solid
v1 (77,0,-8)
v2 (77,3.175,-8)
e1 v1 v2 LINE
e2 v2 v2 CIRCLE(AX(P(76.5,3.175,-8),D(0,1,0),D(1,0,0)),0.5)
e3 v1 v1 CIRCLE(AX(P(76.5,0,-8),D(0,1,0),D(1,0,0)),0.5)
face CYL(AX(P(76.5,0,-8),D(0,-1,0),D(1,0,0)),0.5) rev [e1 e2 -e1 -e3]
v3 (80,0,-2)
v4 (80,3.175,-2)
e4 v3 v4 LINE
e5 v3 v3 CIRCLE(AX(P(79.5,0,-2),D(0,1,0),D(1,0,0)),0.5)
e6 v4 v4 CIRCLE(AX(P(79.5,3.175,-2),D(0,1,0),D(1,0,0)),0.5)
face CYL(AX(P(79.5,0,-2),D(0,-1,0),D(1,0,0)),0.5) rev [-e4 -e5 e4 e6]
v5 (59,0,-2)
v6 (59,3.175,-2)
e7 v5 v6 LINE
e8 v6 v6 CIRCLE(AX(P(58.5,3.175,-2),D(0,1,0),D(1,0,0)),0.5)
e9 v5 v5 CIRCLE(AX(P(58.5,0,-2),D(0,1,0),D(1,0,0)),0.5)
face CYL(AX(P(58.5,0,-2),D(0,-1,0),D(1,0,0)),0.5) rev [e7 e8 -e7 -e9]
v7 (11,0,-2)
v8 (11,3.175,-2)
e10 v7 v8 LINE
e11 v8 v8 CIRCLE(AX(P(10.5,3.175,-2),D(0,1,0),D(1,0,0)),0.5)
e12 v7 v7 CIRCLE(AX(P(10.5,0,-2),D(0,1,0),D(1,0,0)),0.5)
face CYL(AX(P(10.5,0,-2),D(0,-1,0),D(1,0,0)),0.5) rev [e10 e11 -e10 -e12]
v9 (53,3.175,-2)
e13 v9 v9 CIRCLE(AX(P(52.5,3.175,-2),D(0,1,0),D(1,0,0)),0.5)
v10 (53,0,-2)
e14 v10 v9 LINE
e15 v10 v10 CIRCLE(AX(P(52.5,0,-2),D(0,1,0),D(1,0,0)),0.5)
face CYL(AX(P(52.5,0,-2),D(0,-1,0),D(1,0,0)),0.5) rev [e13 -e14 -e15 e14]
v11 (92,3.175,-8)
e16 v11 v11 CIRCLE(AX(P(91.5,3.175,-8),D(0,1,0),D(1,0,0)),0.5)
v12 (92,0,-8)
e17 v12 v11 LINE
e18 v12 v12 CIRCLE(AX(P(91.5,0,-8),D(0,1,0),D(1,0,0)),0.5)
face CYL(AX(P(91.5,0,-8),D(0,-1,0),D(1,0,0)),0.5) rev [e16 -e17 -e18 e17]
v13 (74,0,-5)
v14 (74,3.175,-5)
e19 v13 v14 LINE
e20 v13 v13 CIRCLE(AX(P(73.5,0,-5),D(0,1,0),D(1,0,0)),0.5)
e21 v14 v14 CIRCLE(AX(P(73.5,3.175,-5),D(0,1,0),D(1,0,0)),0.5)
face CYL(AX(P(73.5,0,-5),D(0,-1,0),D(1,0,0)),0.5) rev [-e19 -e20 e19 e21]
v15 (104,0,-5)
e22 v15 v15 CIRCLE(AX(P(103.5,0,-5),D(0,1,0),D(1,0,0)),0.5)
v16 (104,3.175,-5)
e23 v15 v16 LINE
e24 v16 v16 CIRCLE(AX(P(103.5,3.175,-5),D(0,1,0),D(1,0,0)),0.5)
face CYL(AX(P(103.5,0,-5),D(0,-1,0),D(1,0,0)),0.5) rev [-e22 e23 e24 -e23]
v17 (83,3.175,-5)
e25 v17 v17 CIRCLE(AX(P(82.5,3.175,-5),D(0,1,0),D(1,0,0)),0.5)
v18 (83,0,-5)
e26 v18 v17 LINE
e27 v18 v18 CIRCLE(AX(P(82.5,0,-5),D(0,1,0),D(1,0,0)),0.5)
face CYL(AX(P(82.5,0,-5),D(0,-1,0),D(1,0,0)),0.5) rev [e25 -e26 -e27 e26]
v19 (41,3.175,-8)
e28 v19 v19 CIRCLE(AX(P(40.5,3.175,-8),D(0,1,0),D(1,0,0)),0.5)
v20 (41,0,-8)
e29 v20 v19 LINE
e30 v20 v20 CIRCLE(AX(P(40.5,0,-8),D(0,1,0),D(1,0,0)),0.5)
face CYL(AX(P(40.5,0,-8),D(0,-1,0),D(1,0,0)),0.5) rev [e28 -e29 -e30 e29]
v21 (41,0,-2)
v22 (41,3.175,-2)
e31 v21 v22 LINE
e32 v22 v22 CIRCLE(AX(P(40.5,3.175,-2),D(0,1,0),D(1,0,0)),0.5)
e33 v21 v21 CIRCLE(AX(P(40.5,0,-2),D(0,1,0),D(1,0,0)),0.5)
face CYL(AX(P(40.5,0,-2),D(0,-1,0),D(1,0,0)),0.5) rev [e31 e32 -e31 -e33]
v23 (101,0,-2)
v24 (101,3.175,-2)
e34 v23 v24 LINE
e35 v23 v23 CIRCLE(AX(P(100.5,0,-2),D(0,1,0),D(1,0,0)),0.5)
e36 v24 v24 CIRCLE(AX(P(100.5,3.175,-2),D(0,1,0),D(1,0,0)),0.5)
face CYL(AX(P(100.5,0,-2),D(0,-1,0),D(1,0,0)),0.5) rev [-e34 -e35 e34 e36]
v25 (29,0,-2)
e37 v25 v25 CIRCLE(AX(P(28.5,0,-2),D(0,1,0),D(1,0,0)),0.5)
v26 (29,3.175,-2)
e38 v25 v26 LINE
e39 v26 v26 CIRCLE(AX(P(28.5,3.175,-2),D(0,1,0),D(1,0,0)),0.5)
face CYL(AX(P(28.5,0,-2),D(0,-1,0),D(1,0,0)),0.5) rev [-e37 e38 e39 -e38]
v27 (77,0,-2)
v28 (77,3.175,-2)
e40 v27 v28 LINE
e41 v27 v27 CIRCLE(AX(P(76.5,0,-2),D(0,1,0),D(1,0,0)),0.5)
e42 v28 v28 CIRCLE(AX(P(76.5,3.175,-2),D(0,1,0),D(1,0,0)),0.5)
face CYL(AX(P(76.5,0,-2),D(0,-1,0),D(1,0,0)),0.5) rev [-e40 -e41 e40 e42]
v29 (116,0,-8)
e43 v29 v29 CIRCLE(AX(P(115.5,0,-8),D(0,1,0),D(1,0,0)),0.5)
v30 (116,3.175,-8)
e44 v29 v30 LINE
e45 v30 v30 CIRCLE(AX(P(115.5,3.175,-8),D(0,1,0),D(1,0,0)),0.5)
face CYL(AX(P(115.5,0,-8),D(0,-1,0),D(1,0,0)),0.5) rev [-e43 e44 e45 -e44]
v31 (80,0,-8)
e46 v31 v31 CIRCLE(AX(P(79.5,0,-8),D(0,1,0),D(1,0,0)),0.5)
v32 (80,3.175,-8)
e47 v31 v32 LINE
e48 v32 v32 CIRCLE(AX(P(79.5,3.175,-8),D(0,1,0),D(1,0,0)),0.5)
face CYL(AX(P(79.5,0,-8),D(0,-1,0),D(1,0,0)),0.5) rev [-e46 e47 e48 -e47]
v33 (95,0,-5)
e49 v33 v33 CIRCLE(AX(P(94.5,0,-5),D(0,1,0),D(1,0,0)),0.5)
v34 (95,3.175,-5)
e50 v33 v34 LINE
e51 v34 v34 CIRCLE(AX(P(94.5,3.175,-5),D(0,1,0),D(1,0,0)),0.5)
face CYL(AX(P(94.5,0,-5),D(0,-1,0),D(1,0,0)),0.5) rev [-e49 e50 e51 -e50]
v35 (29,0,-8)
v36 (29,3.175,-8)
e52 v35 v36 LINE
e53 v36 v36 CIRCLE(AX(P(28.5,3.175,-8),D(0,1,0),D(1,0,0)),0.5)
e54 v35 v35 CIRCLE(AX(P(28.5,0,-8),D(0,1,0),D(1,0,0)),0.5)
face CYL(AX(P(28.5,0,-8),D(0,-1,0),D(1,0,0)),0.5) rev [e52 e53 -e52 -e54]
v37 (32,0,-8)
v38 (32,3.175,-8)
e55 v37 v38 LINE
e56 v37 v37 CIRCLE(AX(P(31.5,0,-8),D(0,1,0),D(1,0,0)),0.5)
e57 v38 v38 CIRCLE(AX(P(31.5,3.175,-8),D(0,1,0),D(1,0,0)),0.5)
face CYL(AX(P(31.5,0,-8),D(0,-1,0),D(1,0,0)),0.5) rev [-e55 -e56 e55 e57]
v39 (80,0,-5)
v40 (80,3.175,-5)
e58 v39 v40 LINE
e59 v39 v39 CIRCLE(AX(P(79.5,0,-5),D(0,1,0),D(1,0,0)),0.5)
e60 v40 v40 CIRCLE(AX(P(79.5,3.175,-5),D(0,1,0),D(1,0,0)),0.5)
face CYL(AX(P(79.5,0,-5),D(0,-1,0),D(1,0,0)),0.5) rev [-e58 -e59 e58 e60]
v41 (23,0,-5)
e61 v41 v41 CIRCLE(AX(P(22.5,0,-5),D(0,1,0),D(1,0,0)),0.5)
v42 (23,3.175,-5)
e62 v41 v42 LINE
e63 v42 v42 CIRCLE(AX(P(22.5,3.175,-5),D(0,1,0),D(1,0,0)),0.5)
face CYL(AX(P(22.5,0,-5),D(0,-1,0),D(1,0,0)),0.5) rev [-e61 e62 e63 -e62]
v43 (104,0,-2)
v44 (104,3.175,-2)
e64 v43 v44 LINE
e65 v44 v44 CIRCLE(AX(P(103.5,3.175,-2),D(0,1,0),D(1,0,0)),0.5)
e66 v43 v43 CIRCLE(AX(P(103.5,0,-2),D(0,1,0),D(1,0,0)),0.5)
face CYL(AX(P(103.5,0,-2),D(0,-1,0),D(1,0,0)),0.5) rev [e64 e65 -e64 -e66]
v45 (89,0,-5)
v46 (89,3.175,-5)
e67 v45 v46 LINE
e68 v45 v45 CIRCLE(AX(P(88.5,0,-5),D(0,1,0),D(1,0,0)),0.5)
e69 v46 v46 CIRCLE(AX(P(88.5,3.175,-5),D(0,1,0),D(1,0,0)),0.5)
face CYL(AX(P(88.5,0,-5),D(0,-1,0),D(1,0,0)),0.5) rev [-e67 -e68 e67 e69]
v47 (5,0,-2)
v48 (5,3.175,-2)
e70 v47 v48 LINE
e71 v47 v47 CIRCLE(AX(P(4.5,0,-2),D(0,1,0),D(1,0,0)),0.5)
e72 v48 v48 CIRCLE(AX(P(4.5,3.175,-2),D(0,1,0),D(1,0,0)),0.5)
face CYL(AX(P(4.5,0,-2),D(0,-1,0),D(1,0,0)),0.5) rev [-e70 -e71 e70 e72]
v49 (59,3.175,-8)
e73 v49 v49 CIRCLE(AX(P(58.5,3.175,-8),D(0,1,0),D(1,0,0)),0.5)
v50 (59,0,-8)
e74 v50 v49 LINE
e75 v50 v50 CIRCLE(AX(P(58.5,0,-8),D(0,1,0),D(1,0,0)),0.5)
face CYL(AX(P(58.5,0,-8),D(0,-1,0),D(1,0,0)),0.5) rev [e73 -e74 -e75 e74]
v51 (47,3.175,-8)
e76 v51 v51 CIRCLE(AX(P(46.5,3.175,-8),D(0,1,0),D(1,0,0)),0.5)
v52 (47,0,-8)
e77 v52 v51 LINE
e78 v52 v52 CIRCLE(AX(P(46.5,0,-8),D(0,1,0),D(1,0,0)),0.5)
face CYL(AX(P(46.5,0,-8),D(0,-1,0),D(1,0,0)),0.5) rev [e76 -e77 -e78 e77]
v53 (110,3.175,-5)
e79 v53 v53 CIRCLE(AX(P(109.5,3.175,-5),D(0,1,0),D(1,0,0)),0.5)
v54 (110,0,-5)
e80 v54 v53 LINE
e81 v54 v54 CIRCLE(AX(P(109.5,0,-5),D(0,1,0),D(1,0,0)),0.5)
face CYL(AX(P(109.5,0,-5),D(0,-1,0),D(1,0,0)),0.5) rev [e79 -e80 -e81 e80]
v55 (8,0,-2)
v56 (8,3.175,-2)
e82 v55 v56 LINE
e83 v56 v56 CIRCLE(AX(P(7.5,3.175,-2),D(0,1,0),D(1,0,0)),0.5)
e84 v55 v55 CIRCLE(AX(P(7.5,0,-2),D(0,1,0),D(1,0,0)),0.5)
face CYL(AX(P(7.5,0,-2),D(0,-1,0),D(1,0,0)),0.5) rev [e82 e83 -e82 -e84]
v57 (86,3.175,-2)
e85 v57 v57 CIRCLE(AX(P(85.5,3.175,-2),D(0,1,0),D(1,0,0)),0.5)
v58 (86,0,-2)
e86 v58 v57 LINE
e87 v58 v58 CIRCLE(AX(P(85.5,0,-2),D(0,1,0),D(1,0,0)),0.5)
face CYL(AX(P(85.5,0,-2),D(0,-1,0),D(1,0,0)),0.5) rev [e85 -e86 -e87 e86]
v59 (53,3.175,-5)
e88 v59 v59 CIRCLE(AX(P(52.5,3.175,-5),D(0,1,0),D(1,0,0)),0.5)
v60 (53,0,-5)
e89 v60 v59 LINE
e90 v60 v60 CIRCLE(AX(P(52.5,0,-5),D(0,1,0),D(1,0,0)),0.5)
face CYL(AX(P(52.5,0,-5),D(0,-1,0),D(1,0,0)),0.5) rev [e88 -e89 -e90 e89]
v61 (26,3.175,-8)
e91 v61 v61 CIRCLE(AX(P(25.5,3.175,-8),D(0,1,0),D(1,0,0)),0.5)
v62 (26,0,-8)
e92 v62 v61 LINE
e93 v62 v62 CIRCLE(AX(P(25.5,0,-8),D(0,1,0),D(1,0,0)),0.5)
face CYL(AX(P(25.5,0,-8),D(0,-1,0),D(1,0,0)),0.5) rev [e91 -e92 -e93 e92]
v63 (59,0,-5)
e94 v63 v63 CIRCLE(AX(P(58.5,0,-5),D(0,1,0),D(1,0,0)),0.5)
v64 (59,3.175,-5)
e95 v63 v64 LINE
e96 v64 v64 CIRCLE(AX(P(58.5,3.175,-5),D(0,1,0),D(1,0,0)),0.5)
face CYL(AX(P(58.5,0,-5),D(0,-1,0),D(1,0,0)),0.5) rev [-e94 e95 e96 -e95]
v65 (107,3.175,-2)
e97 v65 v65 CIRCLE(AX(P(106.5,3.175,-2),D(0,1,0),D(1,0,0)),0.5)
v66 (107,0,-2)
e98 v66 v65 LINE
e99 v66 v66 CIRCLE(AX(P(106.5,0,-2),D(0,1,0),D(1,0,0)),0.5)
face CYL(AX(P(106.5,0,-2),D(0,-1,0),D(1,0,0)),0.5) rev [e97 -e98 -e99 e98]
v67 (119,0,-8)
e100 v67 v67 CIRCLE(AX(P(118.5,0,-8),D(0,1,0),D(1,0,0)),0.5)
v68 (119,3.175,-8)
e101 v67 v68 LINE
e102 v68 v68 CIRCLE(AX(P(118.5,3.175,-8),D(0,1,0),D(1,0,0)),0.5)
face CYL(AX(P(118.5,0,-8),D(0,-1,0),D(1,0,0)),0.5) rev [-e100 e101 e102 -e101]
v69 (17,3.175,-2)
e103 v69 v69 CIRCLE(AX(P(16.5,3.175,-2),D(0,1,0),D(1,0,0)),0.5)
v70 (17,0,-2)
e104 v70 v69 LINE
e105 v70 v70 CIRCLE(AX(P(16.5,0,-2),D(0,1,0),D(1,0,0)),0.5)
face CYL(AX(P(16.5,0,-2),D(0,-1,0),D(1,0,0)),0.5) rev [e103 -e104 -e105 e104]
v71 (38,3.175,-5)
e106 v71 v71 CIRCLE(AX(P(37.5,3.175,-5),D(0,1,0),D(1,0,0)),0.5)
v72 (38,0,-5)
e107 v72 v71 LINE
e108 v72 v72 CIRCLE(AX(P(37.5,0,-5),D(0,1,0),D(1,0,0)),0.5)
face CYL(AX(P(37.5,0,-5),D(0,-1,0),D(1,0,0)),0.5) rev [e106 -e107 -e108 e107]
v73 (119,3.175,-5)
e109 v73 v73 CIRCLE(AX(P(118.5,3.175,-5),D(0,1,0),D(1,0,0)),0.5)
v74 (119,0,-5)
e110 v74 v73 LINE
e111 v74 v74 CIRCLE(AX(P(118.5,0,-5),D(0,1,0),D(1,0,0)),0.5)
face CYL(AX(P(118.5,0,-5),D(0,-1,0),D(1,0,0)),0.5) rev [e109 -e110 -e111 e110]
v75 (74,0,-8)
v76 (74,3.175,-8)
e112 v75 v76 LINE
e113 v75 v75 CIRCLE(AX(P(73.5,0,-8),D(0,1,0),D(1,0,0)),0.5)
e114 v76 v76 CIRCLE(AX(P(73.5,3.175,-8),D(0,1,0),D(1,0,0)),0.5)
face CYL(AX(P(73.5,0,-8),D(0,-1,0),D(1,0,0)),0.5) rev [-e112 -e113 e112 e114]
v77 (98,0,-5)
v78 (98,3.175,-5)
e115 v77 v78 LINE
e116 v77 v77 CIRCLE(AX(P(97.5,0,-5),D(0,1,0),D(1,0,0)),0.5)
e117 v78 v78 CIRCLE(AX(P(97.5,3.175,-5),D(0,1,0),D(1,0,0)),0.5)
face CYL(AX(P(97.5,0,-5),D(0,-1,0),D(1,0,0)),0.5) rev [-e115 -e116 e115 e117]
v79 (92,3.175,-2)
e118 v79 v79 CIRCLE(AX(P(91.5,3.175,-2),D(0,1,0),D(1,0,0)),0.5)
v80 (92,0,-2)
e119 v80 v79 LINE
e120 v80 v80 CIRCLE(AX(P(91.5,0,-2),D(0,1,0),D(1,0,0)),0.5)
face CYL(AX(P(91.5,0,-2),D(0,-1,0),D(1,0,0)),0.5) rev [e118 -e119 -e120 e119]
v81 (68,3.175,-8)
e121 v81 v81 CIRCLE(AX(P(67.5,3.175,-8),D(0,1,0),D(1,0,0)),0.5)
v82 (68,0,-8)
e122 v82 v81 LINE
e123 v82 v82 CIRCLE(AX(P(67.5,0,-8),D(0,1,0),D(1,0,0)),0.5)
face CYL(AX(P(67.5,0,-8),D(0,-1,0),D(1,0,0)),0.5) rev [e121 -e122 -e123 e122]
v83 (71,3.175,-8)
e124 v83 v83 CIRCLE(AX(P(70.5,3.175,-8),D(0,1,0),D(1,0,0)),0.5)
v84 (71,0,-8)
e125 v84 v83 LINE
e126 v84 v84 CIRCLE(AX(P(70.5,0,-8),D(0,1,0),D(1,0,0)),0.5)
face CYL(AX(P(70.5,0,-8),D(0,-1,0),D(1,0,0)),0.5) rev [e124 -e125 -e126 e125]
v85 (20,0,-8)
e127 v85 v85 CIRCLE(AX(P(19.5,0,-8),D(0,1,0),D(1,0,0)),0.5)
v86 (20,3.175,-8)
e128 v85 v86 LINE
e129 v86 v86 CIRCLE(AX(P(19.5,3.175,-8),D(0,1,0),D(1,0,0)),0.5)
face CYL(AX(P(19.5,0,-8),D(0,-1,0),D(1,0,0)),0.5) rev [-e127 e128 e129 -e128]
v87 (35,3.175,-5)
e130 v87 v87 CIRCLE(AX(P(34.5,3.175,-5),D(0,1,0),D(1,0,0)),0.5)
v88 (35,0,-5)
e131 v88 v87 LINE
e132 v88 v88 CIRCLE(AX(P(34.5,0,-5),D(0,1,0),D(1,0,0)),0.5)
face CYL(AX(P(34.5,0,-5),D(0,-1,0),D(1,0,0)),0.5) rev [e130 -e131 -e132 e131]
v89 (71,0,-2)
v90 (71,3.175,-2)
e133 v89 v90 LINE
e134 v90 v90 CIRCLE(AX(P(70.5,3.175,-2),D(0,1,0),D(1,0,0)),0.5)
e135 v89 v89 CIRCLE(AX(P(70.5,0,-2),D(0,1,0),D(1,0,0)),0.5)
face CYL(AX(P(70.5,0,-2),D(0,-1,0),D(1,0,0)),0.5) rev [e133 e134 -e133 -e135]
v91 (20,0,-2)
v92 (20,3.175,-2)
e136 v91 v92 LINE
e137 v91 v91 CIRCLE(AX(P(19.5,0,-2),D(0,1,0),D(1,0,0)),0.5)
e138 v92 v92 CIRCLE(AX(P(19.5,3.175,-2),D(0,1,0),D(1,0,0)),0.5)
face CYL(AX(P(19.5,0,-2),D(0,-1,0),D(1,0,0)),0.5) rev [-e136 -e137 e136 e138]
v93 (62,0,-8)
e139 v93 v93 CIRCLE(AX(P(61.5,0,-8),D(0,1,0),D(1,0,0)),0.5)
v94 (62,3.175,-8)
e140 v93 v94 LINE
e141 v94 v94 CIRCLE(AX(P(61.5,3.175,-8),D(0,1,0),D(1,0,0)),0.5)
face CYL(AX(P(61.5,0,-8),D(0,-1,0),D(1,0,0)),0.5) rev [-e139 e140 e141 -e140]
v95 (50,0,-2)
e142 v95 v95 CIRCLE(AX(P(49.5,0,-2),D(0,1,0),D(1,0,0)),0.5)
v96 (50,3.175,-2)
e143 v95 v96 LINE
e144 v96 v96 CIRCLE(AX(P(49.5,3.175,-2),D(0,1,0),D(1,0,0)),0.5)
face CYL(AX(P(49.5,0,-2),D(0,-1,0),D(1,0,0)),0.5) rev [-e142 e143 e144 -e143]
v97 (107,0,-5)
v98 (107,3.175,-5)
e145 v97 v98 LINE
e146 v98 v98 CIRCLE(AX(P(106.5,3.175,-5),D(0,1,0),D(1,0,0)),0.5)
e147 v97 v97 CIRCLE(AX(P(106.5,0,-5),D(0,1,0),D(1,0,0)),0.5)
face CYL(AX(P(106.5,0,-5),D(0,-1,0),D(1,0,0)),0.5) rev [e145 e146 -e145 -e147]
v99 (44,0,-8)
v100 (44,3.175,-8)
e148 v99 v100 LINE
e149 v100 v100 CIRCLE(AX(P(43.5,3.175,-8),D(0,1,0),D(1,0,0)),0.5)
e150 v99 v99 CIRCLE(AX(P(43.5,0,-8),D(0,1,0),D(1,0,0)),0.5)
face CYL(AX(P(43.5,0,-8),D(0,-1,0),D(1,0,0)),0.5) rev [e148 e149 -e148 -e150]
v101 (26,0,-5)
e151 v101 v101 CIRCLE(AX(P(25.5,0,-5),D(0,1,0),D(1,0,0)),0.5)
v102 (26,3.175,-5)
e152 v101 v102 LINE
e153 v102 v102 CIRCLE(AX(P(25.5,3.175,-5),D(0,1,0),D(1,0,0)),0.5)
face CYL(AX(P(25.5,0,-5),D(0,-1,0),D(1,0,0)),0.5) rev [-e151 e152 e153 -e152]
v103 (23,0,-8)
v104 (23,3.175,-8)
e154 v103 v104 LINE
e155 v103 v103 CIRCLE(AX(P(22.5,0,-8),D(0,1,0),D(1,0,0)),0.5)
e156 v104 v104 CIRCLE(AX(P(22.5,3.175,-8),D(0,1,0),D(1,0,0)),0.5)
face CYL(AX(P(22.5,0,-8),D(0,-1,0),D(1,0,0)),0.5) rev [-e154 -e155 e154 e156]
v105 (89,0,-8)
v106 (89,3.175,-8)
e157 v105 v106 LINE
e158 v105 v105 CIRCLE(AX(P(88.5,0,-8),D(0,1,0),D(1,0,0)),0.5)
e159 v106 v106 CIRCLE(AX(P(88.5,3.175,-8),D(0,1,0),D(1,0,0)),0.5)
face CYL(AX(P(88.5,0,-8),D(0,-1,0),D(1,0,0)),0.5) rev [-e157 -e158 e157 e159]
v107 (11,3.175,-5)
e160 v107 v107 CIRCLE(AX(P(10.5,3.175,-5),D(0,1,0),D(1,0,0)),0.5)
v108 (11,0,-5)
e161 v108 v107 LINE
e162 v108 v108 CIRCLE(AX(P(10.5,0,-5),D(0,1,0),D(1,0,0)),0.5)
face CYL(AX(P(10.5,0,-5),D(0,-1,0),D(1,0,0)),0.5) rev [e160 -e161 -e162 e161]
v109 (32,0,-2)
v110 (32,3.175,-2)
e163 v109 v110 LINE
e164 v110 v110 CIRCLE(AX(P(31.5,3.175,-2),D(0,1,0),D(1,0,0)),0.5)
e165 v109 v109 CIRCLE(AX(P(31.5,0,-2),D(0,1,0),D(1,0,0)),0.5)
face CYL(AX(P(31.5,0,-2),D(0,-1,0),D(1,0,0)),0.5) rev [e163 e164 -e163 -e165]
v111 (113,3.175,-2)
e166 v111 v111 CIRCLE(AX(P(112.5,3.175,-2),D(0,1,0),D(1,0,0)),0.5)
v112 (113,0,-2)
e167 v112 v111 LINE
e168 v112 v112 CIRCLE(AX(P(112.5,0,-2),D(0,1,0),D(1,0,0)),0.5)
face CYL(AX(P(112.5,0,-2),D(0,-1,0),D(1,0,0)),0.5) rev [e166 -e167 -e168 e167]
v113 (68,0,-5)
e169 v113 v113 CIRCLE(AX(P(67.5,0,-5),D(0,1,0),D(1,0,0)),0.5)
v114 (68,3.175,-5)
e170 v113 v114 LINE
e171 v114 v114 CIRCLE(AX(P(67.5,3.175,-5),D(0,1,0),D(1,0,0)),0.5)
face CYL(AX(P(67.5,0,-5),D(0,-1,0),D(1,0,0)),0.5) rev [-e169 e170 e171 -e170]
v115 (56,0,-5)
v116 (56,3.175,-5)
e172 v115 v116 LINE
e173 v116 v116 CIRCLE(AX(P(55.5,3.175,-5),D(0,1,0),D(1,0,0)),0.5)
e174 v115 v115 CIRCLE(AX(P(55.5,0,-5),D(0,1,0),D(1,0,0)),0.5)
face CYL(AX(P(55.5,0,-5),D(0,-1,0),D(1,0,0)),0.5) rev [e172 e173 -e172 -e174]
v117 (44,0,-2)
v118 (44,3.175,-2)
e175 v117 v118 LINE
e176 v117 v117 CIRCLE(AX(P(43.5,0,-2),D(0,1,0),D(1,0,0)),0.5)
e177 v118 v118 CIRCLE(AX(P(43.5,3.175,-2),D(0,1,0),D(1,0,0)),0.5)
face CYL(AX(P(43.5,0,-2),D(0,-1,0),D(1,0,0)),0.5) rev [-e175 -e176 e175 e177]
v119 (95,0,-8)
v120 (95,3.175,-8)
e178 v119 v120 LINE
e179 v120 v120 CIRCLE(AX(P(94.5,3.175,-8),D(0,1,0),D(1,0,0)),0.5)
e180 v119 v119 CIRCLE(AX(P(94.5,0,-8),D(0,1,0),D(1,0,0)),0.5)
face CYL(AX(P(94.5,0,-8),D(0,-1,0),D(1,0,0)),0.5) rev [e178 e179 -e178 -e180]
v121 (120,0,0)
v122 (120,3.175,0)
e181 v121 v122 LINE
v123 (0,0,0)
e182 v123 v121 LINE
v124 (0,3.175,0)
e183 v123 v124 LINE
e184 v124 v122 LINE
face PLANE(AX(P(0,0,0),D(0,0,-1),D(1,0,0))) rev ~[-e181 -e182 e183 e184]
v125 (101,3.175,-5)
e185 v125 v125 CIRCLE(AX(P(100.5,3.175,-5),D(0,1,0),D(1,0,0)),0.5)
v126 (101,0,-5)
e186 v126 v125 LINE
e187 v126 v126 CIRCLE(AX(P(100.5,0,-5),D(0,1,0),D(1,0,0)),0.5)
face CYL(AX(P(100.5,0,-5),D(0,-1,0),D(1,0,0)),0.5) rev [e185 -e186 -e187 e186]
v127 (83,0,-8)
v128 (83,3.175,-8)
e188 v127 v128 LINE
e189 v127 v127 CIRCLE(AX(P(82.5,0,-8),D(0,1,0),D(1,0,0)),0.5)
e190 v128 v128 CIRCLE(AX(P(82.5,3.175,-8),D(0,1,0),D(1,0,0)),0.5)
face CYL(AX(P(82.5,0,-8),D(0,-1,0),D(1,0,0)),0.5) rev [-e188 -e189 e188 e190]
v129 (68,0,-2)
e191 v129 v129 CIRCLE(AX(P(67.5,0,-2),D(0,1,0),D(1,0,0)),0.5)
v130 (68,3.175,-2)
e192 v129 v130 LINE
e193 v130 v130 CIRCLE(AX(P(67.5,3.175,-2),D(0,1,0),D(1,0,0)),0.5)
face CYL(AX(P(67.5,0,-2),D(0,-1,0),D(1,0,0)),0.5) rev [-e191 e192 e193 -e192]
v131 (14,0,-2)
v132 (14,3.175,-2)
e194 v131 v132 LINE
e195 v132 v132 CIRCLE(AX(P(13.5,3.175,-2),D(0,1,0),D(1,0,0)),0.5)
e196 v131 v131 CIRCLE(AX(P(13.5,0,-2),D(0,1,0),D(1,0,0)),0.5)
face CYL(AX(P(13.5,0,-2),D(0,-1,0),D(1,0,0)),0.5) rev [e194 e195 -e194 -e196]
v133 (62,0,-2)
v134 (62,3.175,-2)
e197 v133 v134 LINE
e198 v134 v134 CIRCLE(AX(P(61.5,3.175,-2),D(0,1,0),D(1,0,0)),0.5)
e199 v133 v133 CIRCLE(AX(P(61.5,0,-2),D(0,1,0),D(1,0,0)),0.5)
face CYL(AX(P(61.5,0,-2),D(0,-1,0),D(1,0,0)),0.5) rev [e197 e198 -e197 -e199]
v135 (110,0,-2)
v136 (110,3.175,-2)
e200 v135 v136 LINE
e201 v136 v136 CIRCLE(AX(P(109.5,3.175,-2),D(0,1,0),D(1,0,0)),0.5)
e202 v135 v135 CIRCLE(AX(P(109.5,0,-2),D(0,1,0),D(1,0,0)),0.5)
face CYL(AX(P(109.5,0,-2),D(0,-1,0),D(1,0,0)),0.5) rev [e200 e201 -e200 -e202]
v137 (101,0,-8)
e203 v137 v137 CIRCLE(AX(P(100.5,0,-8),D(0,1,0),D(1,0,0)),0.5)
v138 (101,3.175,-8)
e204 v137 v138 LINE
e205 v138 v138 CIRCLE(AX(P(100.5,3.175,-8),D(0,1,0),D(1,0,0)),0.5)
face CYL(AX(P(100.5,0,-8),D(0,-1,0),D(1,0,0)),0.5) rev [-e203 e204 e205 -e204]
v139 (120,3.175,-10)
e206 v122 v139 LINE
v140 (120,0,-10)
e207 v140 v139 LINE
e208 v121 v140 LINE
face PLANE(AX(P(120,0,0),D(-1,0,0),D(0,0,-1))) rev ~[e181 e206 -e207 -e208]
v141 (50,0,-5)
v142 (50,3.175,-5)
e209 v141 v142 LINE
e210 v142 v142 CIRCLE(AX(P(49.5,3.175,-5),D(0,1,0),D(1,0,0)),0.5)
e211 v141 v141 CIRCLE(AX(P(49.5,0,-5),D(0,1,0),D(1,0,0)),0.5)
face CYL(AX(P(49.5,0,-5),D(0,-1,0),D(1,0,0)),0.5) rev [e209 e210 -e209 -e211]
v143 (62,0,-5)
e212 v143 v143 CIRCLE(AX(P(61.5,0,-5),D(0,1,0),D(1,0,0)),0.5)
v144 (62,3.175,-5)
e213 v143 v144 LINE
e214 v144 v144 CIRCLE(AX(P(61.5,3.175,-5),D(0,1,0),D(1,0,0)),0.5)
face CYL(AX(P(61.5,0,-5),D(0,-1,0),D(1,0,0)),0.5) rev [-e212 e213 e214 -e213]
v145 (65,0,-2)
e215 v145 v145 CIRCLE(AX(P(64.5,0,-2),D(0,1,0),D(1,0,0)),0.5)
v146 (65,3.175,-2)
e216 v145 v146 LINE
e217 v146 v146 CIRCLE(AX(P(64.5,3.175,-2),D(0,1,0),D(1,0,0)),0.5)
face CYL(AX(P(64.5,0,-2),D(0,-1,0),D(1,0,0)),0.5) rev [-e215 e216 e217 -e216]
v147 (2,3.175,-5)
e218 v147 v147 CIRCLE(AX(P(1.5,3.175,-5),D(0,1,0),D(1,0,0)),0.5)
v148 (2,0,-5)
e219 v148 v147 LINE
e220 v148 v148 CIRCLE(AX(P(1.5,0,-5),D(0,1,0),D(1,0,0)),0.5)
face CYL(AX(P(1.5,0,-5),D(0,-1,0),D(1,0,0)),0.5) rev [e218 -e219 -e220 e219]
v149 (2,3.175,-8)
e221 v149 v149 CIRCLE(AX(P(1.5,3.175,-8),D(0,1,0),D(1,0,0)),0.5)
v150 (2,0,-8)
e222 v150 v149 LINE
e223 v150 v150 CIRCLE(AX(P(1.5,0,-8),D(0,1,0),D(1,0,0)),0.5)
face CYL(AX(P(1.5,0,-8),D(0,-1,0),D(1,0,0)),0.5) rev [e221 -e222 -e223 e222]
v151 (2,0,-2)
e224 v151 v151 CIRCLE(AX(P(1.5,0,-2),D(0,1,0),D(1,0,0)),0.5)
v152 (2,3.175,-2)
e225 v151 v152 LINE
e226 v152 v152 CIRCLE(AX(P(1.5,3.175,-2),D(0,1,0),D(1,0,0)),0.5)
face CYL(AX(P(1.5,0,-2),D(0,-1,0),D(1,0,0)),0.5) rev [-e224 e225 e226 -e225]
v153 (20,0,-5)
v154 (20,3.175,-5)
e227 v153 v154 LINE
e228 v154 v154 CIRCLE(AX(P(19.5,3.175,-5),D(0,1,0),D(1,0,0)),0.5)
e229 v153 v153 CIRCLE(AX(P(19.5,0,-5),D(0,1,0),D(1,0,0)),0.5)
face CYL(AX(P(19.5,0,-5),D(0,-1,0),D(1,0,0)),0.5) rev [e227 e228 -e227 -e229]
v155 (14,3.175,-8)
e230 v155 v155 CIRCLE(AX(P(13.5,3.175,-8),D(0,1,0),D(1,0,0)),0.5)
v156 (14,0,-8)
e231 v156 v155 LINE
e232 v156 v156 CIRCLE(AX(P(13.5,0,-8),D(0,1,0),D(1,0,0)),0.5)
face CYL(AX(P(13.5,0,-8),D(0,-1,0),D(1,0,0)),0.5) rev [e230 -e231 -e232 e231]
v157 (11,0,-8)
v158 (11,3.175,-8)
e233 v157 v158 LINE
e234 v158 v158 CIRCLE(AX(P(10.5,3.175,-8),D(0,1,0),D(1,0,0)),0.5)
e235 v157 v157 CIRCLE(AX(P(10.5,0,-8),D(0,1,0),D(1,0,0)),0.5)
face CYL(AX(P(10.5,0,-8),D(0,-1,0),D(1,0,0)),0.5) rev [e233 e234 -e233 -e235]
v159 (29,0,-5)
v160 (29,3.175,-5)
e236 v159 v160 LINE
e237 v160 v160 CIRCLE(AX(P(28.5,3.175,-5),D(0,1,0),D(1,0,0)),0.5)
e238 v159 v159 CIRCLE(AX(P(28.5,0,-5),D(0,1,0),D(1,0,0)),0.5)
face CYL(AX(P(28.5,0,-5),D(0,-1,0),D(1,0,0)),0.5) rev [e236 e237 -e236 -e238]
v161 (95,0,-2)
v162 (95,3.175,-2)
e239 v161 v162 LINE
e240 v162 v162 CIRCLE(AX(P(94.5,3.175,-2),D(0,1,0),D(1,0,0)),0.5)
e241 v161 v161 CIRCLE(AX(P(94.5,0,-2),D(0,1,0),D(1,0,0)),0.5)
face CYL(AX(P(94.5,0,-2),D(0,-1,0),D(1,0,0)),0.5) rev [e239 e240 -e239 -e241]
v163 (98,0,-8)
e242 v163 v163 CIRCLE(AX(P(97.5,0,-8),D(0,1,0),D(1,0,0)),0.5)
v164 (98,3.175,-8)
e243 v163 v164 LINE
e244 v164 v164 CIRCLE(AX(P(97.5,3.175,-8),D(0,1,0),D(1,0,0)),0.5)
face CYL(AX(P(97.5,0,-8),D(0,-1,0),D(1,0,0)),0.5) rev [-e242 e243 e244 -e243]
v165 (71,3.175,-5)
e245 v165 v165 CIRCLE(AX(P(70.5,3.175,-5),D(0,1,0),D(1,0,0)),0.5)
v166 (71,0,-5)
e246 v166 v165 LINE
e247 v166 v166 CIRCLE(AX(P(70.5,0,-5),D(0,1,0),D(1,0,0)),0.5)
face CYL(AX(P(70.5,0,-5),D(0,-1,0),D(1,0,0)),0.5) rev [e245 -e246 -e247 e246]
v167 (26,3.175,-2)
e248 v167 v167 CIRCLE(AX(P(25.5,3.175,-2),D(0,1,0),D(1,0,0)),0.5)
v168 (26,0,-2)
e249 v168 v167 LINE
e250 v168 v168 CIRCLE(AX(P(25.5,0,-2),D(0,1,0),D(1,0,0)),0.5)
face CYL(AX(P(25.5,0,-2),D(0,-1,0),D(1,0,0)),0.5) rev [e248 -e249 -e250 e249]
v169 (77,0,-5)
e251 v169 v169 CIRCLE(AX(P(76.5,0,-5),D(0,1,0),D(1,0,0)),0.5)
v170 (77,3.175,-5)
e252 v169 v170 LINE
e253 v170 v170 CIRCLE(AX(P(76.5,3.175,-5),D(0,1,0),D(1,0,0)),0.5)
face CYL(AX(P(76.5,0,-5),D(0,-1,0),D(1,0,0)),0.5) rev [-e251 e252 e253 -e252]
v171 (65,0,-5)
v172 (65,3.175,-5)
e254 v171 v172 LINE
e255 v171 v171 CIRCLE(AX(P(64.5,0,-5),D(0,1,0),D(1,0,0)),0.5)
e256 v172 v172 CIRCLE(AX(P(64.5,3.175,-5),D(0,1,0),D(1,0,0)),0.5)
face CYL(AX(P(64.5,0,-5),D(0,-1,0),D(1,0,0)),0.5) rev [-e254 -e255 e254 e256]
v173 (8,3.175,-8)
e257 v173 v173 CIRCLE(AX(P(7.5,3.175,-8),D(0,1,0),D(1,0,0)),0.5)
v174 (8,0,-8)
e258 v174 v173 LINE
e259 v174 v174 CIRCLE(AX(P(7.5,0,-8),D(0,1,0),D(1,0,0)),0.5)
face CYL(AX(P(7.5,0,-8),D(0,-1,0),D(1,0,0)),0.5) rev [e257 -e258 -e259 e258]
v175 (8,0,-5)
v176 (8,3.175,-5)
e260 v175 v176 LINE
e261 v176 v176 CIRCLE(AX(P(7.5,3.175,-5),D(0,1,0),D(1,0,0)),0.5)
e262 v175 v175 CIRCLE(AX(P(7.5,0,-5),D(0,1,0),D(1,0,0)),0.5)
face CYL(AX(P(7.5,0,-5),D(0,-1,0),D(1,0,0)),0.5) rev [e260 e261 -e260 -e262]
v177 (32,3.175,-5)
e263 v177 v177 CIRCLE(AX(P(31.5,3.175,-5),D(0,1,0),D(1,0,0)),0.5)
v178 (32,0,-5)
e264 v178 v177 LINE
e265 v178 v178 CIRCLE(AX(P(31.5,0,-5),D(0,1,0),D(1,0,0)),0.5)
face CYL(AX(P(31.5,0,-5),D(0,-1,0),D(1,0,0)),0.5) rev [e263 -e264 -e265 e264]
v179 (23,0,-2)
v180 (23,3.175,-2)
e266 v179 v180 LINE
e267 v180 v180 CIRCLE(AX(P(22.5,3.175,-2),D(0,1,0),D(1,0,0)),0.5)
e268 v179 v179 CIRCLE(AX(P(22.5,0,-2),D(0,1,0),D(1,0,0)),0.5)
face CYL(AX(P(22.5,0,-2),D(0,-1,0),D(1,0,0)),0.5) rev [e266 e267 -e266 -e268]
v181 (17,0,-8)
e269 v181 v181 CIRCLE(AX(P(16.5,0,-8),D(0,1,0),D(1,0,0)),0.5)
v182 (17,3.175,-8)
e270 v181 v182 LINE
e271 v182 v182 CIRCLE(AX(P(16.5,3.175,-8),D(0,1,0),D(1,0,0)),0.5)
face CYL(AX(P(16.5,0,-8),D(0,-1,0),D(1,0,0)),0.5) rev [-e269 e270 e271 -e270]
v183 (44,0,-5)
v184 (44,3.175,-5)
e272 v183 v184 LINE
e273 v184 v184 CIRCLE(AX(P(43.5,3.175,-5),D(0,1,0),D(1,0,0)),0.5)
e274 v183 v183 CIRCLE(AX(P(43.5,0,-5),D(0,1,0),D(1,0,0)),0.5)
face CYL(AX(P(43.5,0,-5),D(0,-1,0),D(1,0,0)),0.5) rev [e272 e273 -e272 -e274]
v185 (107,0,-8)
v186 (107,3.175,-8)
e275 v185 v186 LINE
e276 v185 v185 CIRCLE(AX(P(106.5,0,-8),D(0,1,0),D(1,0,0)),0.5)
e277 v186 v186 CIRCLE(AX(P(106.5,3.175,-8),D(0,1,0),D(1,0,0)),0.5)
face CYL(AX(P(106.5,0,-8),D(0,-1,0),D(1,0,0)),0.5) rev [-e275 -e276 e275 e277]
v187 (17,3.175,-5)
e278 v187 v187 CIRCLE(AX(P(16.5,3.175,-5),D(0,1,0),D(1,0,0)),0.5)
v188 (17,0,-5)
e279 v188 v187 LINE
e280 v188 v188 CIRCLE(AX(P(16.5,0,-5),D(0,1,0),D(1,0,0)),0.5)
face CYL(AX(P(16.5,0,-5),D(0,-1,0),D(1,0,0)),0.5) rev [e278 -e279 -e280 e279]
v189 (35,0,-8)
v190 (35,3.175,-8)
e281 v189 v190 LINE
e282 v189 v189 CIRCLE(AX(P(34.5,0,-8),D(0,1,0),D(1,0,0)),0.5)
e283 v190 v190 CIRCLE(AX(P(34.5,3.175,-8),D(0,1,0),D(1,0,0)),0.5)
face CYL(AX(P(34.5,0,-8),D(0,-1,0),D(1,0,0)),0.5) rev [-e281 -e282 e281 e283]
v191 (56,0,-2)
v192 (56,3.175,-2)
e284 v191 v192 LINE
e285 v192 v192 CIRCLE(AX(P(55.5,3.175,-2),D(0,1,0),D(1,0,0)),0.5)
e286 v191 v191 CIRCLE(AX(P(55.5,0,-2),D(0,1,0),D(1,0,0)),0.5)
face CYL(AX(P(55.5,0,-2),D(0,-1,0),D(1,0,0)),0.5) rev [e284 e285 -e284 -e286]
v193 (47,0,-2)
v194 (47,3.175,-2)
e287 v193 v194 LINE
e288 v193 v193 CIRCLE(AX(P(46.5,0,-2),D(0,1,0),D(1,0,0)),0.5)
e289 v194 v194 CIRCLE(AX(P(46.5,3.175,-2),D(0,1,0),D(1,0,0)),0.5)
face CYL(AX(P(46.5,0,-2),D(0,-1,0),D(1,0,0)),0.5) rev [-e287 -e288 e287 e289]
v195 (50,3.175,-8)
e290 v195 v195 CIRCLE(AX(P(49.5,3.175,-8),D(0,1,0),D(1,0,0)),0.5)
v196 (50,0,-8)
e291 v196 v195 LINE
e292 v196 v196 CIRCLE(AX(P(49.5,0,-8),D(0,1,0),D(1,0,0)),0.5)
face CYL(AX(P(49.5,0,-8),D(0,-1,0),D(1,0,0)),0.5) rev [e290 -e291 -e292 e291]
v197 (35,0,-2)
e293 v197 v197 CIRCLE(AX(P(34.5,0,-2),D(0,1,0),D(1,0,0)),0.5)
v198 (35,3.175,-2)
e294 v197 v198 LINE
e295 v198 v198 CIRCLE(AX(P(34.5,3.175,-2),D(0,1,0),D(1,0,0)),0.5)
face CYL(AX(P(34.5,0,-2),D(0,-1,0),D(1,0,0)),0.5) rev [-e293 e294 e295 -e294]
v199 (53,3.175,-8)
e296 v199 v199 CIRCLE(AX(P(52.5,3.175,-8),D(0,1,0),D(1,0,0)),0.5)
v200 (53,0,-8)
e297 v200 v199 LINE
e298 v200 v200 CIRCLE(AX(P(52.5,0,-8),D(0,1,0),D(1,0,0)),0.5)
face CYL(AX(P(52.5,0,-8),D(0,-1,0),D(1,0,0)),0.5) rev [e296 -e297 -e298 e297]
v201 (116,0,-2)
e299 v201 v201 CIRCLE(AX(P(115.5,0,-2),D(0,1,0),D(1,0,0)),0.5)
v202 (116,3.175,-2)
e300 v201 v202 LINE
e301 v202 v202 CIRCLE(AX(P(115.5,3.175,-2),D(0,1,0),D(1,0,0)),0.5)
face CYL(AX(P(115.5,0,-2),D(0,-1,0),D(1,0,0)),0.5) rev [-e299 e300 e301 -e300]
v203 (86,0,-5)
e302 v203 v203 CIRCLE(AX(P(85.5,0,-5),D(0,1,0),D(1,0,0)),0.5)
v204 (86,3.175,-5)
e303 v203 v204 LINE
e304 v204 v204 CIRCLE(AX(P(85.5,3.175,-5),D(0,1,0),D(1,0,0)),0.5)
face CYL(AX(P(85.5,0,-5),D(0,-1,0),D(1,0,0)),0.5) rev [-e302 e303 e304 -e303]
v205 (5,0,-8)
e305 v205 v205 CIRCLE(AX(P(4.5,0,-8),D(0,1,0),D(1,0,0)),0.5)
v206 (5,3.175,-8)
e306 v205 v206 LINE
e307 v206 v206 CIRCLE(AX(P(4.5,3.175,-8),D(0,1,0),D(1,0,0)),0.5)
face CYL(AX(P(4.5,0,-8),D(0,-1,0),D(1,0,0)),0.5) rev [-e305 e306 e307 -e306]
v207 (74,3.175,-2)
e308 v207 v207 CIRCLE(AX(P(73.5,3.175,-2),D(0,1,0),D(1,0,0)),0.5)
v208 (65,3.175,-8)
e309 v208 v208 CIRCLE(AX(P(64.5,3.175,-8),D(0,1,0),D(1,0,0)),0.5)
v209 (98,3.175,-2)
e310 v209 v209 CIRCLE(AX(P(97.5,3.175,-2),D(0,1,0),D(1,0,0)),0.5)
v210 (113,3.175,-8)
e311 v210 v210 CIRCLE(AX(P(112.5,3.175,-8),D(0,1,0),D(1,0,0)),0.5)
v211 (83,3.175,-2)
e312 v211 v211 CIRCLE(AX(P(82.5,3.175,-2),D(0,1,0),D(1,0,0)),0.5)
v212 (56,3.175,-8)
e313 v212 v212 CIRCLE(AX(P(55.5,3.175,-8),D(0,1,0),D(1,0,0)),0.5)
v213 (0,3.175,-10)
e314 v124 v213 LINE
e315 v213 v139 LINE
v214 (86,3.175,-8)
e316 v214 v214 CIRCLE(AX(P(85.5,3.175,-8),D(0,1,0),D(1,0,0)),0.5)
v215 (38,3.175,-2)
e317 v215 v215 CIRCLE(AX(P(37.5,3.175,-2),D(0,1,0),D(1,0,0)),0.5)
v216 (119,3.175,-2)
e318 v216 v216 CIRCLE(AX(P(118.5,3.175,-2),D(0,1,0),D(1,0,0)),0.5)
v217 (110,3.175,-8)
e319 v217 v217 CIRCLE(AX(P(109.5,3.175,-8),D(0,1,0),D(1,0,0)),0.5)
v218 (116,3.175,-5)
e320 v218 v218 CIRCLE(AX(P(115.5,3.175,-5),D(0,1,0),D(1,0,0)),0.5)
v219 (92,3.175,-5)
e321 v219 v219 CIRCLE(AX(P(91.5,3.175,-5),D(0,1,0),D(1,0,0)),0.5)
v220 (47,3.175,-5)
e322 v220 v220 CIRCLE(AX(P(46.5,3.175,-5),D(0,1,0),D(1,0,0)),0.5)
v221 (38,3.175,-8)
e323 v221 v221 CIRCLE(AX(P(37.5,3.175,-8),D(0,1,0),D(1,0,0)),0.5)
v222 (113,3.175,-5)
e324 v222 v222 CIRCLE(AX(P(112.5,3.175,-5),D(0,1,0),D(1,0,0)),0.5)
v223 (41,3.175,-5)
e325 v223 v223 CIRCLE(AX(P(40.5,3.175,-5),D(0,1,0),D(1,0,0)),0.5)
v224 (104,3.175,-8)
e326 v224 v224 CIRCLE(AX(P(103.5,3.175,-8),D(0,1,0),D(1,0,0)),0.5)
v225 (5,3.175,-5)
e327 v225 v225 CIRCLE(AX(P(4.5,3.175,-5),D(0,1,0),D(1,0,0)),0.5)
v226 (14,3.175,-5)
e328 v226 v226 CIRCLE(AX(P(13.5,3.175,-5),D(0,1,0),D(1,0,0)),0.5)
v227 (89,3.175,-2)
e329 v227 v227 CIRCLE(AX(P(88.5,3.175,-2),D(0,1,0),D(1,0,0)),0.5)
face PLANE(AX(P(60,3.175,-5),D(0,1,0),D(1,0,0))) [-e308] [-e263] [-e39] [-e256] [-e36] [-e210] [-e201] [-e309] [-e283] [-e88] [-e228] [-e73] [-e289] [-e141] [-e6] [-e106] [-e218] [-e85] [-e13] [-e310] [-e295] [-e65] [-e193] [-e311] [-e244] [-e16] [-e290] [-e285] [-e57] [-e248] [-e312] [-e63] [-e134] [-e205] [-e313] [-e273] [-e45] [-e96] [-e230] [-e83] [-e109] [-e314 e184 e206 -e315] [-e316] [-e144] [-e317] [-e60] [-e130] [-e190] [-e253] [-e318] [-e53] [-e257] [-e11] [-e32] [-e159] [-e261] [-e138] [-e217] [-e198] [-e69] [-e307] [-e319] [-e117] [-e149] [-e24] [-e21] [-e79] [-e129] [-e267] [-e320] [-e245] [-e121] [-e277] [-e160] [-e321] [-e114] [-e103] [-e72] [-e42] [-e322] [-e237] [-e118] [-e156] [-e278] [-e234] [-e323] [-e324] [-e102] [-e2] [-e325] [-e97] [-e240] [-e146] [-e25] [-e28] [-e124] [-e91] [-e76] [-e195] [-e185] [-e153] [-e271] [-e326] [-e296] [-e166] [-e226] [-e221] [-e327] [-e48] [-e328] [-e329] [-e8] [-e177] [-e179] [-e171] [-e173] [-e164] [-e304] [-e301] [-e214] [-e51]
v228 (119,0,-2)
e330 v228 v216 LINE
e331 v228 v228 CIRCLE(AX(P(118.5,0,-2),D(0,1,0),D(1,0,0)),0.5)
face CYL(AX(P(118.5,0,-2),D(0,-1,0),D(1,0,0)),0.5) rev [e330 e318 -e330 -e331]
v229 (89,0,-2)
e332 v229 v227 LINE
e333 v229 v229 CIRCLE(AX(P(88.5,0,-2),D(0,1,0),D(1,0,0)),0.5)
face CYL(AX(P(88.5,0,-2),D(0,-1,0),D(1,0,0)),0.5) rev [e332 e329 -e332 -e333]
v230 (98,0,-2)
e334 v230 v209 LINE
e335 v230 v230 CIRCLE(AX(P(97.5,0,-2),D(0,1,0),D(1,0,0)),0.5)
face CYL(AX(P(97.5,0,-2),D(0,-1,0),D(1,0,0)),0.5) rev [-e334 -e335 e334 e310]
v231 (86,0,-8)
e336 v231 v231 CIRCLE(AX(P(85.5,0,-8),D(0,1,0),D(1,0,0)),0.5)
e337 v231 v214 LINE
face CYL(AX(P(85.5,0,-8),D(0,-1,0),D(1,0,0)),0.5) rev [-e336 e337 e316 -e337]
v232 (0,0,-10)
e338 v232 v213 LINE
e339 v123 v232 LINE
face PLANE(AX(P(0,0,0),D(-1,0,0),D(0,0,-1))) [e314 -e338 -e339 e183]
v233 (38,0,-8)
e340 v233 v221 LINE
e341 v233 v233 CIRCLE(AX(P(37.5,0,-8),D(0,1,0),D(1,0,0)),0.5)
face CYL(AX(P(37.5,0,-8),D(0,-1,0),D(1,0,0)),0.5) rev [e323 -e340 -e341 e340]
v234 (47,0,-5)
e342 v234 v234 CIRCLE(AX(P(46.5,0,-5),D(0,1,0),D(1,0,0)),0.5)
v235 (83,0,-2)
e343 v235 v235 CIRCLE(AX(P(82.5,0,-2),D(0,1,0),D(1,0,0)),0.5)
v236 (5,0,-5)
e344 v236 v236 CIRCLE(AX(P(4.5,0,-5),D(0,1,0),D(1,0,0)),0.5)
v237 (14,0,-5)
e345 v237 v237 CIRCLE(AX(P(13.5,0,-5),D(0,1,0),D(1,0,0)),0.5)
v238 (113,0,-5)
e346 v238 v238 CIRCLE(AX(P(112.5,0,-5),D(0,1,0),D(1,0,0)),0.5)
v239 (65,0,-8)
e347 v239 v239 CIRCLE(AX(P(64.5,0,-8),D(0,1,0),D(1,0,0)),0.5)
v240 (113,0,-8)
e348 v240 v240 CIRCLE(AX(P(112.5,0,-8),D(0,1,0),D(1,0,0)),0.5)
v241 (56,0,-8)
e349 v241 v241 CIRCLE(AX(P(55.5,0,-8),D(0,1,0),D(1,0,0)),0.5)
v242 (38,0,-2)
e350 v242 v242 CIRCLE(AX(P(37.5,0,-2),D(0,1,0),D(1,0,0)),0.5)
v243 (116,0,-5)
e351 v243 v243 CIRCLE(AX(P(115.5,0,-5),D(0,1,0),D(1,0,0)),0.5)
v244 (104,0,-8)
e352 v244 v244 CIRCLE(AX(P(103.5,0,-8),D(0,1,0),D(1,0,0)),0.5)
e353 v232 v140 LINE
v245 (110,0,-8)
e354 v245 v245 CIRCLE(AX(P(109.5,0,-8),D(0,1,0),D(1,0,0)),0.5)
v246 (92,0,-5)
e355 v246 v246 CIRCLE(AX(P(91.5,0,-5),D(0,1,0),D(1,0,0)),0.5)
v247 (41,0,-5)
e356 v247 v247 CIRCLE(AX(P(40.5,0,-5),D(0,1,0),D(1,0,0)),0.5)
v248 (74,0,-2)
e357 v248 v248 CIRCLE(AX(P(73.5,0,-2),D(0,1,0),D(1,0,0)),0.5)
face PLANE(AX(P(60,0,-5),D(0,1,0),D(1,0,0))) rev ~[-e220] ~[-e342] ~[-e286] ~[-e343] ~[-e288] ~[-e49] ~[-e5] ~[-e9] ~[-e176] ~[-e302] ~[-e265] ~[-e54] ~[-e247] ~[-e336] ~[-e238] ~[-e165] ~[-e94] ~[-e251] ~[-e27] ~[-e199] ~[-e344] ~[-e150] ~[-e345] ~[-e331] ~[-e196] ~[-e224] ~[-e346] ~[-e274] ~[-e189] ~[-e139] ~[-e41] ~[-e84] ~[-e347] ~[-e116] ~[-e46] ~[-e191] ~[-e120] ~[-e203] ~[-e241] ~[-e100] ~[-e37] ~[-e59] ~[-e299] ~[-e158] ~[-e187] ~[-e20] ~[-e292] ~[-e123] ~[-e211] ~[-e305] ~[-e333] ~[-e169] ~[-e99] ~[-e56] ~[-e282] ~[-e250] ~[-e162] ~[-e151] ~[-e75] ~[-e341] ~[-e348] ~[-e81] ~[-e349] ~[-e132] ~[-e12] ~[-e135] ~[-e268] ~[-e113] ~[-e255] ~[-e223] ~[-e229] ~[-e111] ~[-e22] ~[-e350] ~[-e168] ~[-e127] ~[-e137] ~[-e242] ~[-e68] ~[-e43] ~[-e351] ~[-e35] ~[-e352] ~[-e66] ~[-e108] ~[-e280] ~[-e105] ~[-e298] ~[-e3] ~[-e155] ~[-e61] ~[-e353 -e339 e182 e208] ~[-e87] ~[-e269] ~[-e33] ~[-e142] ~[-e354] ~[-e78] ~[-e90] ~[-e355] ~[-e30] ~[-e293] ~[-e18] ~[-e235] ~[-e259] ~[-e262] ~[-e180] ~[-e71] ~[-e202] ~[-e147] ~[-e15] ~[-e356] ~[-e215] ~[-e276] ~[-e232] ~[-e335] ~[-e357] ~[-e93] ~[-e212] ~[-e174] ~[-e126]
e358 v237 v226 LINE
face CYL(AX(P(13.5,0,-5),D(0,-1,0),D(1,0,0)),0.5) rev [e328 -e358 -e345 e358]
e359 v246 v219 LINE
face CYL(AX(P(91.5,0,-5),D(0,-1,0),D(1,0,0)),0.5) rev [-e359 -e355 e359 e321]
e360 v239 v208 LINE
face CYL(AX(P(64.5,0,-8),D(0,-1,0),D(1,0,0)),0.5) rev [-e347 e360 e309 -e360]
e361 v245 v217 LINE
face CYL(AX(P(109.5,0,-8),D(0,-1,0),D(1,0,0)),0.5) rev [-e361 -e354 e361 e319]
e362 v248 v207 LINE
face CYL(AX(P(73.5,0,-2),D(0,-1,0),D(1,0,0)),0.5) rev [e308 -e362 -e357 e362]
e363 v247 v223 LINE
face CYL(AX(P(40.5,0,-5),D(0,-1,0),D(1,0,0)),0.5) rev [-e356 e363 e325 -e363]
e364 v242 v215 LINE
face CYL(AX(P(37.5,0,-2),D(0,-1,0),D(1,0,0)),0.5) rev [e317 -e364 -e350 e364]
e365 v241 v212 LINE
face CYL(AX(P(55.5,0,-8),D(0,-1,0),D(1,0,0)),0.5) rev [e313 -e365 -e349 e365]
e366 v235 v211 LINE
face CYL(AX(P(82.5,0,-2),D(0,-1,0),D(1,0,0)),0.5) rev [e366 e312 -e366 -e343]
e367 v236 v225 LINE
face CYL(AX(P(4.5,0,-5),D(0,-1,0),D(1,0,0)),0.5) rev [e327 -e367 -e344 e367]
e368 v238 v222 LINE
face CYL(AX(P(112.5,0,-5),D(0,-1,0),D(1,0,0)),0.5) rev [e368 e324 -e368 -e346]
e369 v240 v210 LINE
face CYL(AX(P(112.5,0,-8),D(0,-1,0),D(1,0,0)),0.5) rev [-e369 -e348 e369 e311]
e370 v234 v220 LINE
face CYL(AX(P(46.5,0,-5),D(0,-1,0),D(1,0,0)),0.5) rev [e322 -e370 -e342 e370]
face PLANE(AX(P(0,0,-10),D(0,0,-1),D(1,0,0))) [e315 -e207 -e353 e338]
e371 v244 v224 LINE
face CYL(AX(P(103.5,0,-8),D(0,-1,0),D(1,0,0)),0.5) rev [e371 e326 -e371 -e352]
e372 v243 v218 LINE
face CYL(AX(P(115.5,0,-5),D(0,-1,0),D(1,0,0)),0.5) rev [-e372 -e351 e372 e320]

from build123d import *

# Parameters (mm, degrees)
SKETCH1_W           = 120
SKETCH1_H           = 10
SKETCH1_R           = 0.5
BOSS_EXTRUDE1_DEPTH = 3.175


with BuildPart() as part:
    # Sketch1 → Boss-Extrude1 (new body)
    with BuildSketch(Plane(origin=(0, 0, 0), x_dir=(1, 0, 0), z_dir=(0, 1, 0))):
        with Locations((60, 5)):
            Rectangle(SKETCH1_W, SKETCH1_H)
        with Locations((1.5, 8)):
            Circle(SKETCH1_R, mode=Mode.SUBTRACT)
        with Locations((1.5, 5)):
            Circle(SKETCH1_R, mode=Mode.SUBTRACT)
        with Locations((1.5, 2)):
            Circle(SKETCH1_R, mode=Mode.SUBTRACT)
        with Locations((4.5, 8)):
            Circle(SKETCH1_R, mode=Mode.SUBTRACT)
        with Locations((4.5, 5)):
            Circle(SKETCH1_R, mode=Mode.SUBTRACT)
        with Locations((4.5, 2)):
            Circle(SKETCH1_R, mode=Mode.SUBTRACT)
        with Locations((7.5, 8)):
            Circle(SKETCH1_R, mode=Mode.SUBTRACT)
        with Locations((7.5, 5)):
            Circle(SKETCH1_R, mode=Mode.SUBTRACT)
        with Locations((7.5, 2)):
            Circle(SKETCH1_R, mode=Mode.SUBTRACT)
        with Locations((10.5, 8)):
            Circle(SKETCH1_R, mode=Mode.SUBTRACT)
        with Locations((10.5, 5)):
            Circle(SKETCH1_R, mode=Mode.SUBTRACT)
        with Locations((10.5, 2)):
            Circle(SKETCH1_R, mode=Mode.SUBTRACT)
        with Locations((13.5, 8)):
            Circle(SKETCH1_R, mode=Mode.SUBTRACT)
        with Locations((13.5, 5)):
            Circle(SKETCH1_R, mode=Mode.SUBTRACT)
        with Locations((13.5, 2)):
            Circle(SKETCH1_R, mode=Mode.SUBTRACT)
        with Locations((16.5, 8)):
            Circle(SKETCH1_R, mode=Mode.SUBTRACT)
        with Locations((16.5, 5)):
            Circle(SKETCH1_R, mode=Mode.SUBTRACT)
        with Locations((16.5, 2)):
            Circle(SKETCH1_R, mode=Mode.SUBTRACT)
        with Locations((19.5, 8)):
            Circle(SKETCH1_R, mode=Mode.SUBTRACT)
        with Locations((19.5, 5)):
            Circle(SKETCH1_R, mode=Mode.SUBTRACT)
        with Locations((19.5, 2)):
            Circle(SKETCH1_R, mode=Mode.SUBTRACT)
        with Locations((22.5, 8)):
            Circle(SKETCH1_R, mode=Mode.SUBTRACT)
        with Locations((22.5, 5)):
            Circle(SKETCH1_R, mode=Mode.SUBTRACT)
        with Locations((22.5, 2)):
            Circle(SKETCH1_R, mode=Mode.SUBTRACT)
        with Locations((25.5, 8)):
            Circle(SKETCH1_R, mode=Mode.SUBTRACT)
        with Locations((25.5, 5)):
            Circle(SKETCH1_R, mode=Mode.SUBTRACT)
        with Locations((25.5, 2)):
            Circle(SKETCH1_R, mode=Mode.SUBTRACT)
        with Locations((28.5, 8)):
            Circle(SKETCH1_R, mode=Mode.SUBTRACT)
        with Locations((28.5, 5)):
            Circle(SKETCH1_R, mode=Mode.SUBTRACT)
        with Locations((28.5, 2)):
            Circle(SKETCH1_R, mode=Mode.SUBTRACT)
        with Locations((31.5, 8)):
            Circle(SKETCH1_R, mode=Mode.SUBTRACT)
        with Locations((31.5, 5)):
            Circle(SKETCH1_R, mode=Mode.SUBTRACT)
        with Locations((31.5, 2)):
            Circle(SKETCH1_R, mode=Mode.SUBTRACT)
        with Locations((34.5, 8)):
            Circle(SKETCH1_R, mode=Mode.SUBTRACT)
        with Locations((34.5, 5)):
            Circle(SKETCH1_R, mode=Mode.SUBTRACT)
        with Locations((34.5, 2)):
            Circle(SKETCH1_R, mode=Mode.SUBTRACT)
        with Locations((37.5, 8)):
            Circle(SKETCH1_R, mode=Mode.SUBTRACT)
        with Locations((37.5, 5)):
            Circle(SKETCH1_R, mode=Mode.SUBTRACT)
        with Locations((37.5, 2)):
            Circle(SKETCH1_R, mode=Mode.SUBTRACT)
        with Locations((40.5, 8)):
            Circle(SKETCH1_R, mode=Mode.SUBTRACT)
        with Locations((40.5, 5)):
            Circle(SKETCH1_R, mode=Mode.SUBTRACT)
        with Locations((40.5, 2)):
            Circle(SKETCH1_R, mode=Mode.SUBTRACT)
        with Locations((43.5, 8)):
            Circle(SKETCH1_R, mode=Mode.SUBTRACT)
        with Locations((43.5, 5)):
            Circle(SKETCH1_R, mode=Mode.SUBTRACT)
        with Locations((43.5, 2)):
            Circle(SKETCH1_R, mode=Mode.SUBTRACT)
        with Locations((46.5, 8)):
            Circle(SKETCH1_R, mode=Mode.SUBTRACT)
        with Locations((46.5, 5)):
            Circle(SKETCH1_R, mode=Mode.SUBTRACT)
        with Locations((46.5, 2)):
            Circle(SKETCH1_R, mode=Mode.SUBTRACT)
        with Locations((49.5, 8)):
            Circle(SKETCH1_R, mode=Mode.SUBTRACT)
        with Locations((49.5, 5)):
            Circle(SKETCH1_R, mode=Mode.SUBTRACT)
        with Locations((49.5, 2)):
            Circle(SKETCH1_R, mode=Mode.SUBTRACT)
        with Locations((52.5, 8)):
            Circle(SKETCH1_R, mode=Mode.SUBTRACT)
        with Locations((52.5, 5)):
            Circle(SKETCH1_R, mode=Mode.SUBTRACT)
        with Locations((52.5, 2)):
            Circle(SKETCH1_R, mode=Mode.SUBTRACT)
        with Locations((55.5, 8)):
            Circle(SKETCH1_R, mode=Mode.SUBTRACT)
        with Locations((55.5, 5)):
            Circle(SKETCH1_R, mode=Mode.SUBTRACT)
        with Locations((55.5, 2)):
            Circle(SKETCH1_R, mode=Mode.SUBTRACT)
        with Locations((58.5, 8)):
            Circle(SKETCH1_R, mode=Mode.SUBTRACT)
        with Locations((58.5, 5)):
            Circle(SKETCH1_R, mode=Mode.SUBTRACT)
        with Locations((58.5, 2)):
            Circle(SKETCH1_R, mode=Mode.SUBTRACT)
        with Locations((61.5, 8)):
            Circle(SKETCH1_R, mode=Mode.SUBTRACT)
        with Locations((61.5, 5)):
            Circle(SKETCH1_R, mode=Mode.SUBTRACT)
        with Locations((61.5, 2)):
            Circle(SKETCH1_R, mode=Mode.SUBTRACT)
        with Locations((64.5, 8)):
            Circle(SKETCH1_R, mode=Mode.SUBTRACT)
        with Locations((64.5, 5)):
            Circle(SKETCH1_R, mode=Mode.SUBTRACT)
        with Locations((64.5, 2)):
            Circle(SKETCH1_R, mode=Mode.SUBTRACT)
        with Locations((67.5, 8)):
            Circle(SKETCH1_R, mode=Mode.SUBTRACT)
        with Locations((67.5, 5)):
            Circle(SKETCH1_R, mode=Mode.SUBTRACT)
        with Locations((67.5, 2)):
            Circle(SKETCH1_R, mode=Mode.SUBTRACT)
        with Locations((70.5, 8)):
            Circle(SKETCH1_R, mode=Mode.SUBTRACT)
        with Locations((70.5, 5)):
            Circle(SKETCH1_R, mode=Mode.SUBTRACT)
        with Locations((70.5, 2)):
            Circle(SKETCH1_R, mode=Mode.SUBTRACT)
        with Locations((73.5, 8)):
            Circle(SKETCH1_R, mode=Mode.SUBTRACT)
        with Locations((73.5, 5)):
            Circle(SKETCH1_R, mode=Mode.SUBTRACT)
        with Locations((73.5, 2)):
            Circle(SKETCH1_R, mode=Mode.SUBTRACT)
        with Locations((76.5, 8)):
            Circle(SKETCH1_R, mode=Mode.SUBTRACT)
        with Locations((76.5, 5)):
            Circle(SKETCH1_R, mode=Mode.SUBTRACT)
        with Locations((76.5, 2)):
            Circle(SKETCH1_R, mode=Mode.SUBTRACT)
        with Locations((79.5, 8)):
            Circle(SKETCH1_R, mode=Mode.SUBTRACT)
        with Locations((79.5, 5)):
            Circle(SKETCH1_R, mode=Mode.SUBTRACT)
        with Locations((79.5, 2)):
            Circle(SKETCH1_R, mode=Mode.SUBTRACT)
        with Locations((82.5, 8)):
            Circle(SKETCH1_R, mode=Mode.SUBTRACT)
        with Locations((82.5, 5)):
            Circle(SKETCH1_R, mode=Mode.SUBTRACT)
        with Locations((82.5, 2)):
            Circle(SKETCH1_R, mode=Mode.SUBTRACT)
        with Locations((85.5, 8)):
            Circle(SKETCH1_R, mode=Mode.SUBTRACT)
        with Locations((85.5, 5)):
            Circle(SKETCH1_R, mode=Mode.SUBTRACT)
        with Locations((85.5, 2)):
            Circle(SKETCH1_R, mode=Mode.SUBTRACT)
        with Locations((88.5, 8)):
            Circle(SKETCH1_R, mode=Mode.SUBTRACT)
        with Locations((88.5, 5)):
            Circle(SKETCH1_R, mode=Mode.SUBTRACT)
        with Locations((88.5, 2)):
            Circle(SKETCH1_R, mode=Mode.SUBTRACT)
        with Locations((91.5, 8)):
            Circle(SKETCH1_R, mode=Mode.SUBTRACT)
        with Locations((91.5, 5)):
            Circle(SKETCH1_R, mode=Mode.SUBTRACT)
        with Locations((91.5, 2)):
            Circle(SKETCH1_R, mode=Mode.SUBTRACT)
        with Locations((94.5, 8)):
            Circle(SKETCH1_R, mode=Mode.SUBTRACT)
        with Locations((94.5, 5)):
            Circle(SKETCH1_R, mode=Mode.SUBTRACT)
        with Locations((94.5, 2)):
            Circle(SKETCH1_R, mode=Mode.SUBTRACT)
        with Locations((97.5, 8)):
            Circle(SKETCH1_R, mode=Mode.SUBTRACT)
        with Locations((97.5, 5)):
            Circle(SKETCH1_R, mode=Mode.SUBTRACT)
        with Locations((97.5, 2)):
            Circle(SKETCH1_R, mode=Mode.SUBTRACT)
        with Locations((100.5, 8)):
            Circle(SKETCH1_R, mode=Mode.SUBTRACT)
        with Locations((100.5, 5)):
            Circle(SKETCH1_R, mode=Mode.SUBTRACT)
        with Locations((100.5, 2)):
            Circle(SKETCH1_R, mode=Mode.SUBTRACT)
        with Locations((103.5, 8)):
            Circle(SKETCH1_R, mode=Mode.SUBTRACT)
        with Locations((103.5, 5)):
            Circle(SKETCH1_R, mode=Mode.SUBTRACT)
        with Locations((103.5, 2)):
            Circle(SKETCH1_R, mode=Mode.SUBTRACT)
        with Locations((106.5, 8)):
            Circle(SKETCH1_R, mode=Mode.SUBTRACT)
        with Locations((106.5, 5)):
            Circle(SKETCH1_R, mode=Mode.SUBTRACT)
        with Locations((106.5, 2)):
            Circle(SKETCH1_R, mode=Mode.SUBTRACT)
        with Locations((109.5, 8)):
            Circle(SKETCH1_R, mode=Mode.SUBTRACT)
        with Locations((109.5, 5)):
            Circle(SKETCH1_R, mode=Mode.SUBTRACT)
        with Locations((109.5, 2)):
            Circle(SKETCH1_R, mode=Mode.SUBTRACT)
        with Locations((112.5, 8)):
            Circle(SKETCH1_R, mode=Mode.SUBTRACT)
        with Locations((112.5, 5)):
            Circle(SKETCH1_R, mode=Mode.SUBTRACT)
        with Locations((112.5, 2)):
            Circle(SKETCH1_R, mode=Mode.SUBTRACT)
        with Locations((115.5, 8)):
            Circle(SKETCH1_R, mode=Mode.SUBTRACT)
        with Locations((115.5, 5)):
            Circle(SKETCH1_R, mode=Mode.SUBTRACT)
        with Locations((115.5, 2)):
            Circle(SKETCH1_R, mode=Mode.SUBTRACT)
        with Locations((118.5, 8)):
            Circle(SKETCH1_R, mode=Mode.SUBTRACT)
        with Locations((118.5, 5)):
            Circle(SKETCH1_R, mode=Mode.SUBTRACT)
        with Locations((118.5, 2)):
            Circle(SKETCH1_R, mode=Mode.SUBTRACT)
    extrude(amount=BOSS_EXTRUDE1_DEPTH)


solid = part.part
